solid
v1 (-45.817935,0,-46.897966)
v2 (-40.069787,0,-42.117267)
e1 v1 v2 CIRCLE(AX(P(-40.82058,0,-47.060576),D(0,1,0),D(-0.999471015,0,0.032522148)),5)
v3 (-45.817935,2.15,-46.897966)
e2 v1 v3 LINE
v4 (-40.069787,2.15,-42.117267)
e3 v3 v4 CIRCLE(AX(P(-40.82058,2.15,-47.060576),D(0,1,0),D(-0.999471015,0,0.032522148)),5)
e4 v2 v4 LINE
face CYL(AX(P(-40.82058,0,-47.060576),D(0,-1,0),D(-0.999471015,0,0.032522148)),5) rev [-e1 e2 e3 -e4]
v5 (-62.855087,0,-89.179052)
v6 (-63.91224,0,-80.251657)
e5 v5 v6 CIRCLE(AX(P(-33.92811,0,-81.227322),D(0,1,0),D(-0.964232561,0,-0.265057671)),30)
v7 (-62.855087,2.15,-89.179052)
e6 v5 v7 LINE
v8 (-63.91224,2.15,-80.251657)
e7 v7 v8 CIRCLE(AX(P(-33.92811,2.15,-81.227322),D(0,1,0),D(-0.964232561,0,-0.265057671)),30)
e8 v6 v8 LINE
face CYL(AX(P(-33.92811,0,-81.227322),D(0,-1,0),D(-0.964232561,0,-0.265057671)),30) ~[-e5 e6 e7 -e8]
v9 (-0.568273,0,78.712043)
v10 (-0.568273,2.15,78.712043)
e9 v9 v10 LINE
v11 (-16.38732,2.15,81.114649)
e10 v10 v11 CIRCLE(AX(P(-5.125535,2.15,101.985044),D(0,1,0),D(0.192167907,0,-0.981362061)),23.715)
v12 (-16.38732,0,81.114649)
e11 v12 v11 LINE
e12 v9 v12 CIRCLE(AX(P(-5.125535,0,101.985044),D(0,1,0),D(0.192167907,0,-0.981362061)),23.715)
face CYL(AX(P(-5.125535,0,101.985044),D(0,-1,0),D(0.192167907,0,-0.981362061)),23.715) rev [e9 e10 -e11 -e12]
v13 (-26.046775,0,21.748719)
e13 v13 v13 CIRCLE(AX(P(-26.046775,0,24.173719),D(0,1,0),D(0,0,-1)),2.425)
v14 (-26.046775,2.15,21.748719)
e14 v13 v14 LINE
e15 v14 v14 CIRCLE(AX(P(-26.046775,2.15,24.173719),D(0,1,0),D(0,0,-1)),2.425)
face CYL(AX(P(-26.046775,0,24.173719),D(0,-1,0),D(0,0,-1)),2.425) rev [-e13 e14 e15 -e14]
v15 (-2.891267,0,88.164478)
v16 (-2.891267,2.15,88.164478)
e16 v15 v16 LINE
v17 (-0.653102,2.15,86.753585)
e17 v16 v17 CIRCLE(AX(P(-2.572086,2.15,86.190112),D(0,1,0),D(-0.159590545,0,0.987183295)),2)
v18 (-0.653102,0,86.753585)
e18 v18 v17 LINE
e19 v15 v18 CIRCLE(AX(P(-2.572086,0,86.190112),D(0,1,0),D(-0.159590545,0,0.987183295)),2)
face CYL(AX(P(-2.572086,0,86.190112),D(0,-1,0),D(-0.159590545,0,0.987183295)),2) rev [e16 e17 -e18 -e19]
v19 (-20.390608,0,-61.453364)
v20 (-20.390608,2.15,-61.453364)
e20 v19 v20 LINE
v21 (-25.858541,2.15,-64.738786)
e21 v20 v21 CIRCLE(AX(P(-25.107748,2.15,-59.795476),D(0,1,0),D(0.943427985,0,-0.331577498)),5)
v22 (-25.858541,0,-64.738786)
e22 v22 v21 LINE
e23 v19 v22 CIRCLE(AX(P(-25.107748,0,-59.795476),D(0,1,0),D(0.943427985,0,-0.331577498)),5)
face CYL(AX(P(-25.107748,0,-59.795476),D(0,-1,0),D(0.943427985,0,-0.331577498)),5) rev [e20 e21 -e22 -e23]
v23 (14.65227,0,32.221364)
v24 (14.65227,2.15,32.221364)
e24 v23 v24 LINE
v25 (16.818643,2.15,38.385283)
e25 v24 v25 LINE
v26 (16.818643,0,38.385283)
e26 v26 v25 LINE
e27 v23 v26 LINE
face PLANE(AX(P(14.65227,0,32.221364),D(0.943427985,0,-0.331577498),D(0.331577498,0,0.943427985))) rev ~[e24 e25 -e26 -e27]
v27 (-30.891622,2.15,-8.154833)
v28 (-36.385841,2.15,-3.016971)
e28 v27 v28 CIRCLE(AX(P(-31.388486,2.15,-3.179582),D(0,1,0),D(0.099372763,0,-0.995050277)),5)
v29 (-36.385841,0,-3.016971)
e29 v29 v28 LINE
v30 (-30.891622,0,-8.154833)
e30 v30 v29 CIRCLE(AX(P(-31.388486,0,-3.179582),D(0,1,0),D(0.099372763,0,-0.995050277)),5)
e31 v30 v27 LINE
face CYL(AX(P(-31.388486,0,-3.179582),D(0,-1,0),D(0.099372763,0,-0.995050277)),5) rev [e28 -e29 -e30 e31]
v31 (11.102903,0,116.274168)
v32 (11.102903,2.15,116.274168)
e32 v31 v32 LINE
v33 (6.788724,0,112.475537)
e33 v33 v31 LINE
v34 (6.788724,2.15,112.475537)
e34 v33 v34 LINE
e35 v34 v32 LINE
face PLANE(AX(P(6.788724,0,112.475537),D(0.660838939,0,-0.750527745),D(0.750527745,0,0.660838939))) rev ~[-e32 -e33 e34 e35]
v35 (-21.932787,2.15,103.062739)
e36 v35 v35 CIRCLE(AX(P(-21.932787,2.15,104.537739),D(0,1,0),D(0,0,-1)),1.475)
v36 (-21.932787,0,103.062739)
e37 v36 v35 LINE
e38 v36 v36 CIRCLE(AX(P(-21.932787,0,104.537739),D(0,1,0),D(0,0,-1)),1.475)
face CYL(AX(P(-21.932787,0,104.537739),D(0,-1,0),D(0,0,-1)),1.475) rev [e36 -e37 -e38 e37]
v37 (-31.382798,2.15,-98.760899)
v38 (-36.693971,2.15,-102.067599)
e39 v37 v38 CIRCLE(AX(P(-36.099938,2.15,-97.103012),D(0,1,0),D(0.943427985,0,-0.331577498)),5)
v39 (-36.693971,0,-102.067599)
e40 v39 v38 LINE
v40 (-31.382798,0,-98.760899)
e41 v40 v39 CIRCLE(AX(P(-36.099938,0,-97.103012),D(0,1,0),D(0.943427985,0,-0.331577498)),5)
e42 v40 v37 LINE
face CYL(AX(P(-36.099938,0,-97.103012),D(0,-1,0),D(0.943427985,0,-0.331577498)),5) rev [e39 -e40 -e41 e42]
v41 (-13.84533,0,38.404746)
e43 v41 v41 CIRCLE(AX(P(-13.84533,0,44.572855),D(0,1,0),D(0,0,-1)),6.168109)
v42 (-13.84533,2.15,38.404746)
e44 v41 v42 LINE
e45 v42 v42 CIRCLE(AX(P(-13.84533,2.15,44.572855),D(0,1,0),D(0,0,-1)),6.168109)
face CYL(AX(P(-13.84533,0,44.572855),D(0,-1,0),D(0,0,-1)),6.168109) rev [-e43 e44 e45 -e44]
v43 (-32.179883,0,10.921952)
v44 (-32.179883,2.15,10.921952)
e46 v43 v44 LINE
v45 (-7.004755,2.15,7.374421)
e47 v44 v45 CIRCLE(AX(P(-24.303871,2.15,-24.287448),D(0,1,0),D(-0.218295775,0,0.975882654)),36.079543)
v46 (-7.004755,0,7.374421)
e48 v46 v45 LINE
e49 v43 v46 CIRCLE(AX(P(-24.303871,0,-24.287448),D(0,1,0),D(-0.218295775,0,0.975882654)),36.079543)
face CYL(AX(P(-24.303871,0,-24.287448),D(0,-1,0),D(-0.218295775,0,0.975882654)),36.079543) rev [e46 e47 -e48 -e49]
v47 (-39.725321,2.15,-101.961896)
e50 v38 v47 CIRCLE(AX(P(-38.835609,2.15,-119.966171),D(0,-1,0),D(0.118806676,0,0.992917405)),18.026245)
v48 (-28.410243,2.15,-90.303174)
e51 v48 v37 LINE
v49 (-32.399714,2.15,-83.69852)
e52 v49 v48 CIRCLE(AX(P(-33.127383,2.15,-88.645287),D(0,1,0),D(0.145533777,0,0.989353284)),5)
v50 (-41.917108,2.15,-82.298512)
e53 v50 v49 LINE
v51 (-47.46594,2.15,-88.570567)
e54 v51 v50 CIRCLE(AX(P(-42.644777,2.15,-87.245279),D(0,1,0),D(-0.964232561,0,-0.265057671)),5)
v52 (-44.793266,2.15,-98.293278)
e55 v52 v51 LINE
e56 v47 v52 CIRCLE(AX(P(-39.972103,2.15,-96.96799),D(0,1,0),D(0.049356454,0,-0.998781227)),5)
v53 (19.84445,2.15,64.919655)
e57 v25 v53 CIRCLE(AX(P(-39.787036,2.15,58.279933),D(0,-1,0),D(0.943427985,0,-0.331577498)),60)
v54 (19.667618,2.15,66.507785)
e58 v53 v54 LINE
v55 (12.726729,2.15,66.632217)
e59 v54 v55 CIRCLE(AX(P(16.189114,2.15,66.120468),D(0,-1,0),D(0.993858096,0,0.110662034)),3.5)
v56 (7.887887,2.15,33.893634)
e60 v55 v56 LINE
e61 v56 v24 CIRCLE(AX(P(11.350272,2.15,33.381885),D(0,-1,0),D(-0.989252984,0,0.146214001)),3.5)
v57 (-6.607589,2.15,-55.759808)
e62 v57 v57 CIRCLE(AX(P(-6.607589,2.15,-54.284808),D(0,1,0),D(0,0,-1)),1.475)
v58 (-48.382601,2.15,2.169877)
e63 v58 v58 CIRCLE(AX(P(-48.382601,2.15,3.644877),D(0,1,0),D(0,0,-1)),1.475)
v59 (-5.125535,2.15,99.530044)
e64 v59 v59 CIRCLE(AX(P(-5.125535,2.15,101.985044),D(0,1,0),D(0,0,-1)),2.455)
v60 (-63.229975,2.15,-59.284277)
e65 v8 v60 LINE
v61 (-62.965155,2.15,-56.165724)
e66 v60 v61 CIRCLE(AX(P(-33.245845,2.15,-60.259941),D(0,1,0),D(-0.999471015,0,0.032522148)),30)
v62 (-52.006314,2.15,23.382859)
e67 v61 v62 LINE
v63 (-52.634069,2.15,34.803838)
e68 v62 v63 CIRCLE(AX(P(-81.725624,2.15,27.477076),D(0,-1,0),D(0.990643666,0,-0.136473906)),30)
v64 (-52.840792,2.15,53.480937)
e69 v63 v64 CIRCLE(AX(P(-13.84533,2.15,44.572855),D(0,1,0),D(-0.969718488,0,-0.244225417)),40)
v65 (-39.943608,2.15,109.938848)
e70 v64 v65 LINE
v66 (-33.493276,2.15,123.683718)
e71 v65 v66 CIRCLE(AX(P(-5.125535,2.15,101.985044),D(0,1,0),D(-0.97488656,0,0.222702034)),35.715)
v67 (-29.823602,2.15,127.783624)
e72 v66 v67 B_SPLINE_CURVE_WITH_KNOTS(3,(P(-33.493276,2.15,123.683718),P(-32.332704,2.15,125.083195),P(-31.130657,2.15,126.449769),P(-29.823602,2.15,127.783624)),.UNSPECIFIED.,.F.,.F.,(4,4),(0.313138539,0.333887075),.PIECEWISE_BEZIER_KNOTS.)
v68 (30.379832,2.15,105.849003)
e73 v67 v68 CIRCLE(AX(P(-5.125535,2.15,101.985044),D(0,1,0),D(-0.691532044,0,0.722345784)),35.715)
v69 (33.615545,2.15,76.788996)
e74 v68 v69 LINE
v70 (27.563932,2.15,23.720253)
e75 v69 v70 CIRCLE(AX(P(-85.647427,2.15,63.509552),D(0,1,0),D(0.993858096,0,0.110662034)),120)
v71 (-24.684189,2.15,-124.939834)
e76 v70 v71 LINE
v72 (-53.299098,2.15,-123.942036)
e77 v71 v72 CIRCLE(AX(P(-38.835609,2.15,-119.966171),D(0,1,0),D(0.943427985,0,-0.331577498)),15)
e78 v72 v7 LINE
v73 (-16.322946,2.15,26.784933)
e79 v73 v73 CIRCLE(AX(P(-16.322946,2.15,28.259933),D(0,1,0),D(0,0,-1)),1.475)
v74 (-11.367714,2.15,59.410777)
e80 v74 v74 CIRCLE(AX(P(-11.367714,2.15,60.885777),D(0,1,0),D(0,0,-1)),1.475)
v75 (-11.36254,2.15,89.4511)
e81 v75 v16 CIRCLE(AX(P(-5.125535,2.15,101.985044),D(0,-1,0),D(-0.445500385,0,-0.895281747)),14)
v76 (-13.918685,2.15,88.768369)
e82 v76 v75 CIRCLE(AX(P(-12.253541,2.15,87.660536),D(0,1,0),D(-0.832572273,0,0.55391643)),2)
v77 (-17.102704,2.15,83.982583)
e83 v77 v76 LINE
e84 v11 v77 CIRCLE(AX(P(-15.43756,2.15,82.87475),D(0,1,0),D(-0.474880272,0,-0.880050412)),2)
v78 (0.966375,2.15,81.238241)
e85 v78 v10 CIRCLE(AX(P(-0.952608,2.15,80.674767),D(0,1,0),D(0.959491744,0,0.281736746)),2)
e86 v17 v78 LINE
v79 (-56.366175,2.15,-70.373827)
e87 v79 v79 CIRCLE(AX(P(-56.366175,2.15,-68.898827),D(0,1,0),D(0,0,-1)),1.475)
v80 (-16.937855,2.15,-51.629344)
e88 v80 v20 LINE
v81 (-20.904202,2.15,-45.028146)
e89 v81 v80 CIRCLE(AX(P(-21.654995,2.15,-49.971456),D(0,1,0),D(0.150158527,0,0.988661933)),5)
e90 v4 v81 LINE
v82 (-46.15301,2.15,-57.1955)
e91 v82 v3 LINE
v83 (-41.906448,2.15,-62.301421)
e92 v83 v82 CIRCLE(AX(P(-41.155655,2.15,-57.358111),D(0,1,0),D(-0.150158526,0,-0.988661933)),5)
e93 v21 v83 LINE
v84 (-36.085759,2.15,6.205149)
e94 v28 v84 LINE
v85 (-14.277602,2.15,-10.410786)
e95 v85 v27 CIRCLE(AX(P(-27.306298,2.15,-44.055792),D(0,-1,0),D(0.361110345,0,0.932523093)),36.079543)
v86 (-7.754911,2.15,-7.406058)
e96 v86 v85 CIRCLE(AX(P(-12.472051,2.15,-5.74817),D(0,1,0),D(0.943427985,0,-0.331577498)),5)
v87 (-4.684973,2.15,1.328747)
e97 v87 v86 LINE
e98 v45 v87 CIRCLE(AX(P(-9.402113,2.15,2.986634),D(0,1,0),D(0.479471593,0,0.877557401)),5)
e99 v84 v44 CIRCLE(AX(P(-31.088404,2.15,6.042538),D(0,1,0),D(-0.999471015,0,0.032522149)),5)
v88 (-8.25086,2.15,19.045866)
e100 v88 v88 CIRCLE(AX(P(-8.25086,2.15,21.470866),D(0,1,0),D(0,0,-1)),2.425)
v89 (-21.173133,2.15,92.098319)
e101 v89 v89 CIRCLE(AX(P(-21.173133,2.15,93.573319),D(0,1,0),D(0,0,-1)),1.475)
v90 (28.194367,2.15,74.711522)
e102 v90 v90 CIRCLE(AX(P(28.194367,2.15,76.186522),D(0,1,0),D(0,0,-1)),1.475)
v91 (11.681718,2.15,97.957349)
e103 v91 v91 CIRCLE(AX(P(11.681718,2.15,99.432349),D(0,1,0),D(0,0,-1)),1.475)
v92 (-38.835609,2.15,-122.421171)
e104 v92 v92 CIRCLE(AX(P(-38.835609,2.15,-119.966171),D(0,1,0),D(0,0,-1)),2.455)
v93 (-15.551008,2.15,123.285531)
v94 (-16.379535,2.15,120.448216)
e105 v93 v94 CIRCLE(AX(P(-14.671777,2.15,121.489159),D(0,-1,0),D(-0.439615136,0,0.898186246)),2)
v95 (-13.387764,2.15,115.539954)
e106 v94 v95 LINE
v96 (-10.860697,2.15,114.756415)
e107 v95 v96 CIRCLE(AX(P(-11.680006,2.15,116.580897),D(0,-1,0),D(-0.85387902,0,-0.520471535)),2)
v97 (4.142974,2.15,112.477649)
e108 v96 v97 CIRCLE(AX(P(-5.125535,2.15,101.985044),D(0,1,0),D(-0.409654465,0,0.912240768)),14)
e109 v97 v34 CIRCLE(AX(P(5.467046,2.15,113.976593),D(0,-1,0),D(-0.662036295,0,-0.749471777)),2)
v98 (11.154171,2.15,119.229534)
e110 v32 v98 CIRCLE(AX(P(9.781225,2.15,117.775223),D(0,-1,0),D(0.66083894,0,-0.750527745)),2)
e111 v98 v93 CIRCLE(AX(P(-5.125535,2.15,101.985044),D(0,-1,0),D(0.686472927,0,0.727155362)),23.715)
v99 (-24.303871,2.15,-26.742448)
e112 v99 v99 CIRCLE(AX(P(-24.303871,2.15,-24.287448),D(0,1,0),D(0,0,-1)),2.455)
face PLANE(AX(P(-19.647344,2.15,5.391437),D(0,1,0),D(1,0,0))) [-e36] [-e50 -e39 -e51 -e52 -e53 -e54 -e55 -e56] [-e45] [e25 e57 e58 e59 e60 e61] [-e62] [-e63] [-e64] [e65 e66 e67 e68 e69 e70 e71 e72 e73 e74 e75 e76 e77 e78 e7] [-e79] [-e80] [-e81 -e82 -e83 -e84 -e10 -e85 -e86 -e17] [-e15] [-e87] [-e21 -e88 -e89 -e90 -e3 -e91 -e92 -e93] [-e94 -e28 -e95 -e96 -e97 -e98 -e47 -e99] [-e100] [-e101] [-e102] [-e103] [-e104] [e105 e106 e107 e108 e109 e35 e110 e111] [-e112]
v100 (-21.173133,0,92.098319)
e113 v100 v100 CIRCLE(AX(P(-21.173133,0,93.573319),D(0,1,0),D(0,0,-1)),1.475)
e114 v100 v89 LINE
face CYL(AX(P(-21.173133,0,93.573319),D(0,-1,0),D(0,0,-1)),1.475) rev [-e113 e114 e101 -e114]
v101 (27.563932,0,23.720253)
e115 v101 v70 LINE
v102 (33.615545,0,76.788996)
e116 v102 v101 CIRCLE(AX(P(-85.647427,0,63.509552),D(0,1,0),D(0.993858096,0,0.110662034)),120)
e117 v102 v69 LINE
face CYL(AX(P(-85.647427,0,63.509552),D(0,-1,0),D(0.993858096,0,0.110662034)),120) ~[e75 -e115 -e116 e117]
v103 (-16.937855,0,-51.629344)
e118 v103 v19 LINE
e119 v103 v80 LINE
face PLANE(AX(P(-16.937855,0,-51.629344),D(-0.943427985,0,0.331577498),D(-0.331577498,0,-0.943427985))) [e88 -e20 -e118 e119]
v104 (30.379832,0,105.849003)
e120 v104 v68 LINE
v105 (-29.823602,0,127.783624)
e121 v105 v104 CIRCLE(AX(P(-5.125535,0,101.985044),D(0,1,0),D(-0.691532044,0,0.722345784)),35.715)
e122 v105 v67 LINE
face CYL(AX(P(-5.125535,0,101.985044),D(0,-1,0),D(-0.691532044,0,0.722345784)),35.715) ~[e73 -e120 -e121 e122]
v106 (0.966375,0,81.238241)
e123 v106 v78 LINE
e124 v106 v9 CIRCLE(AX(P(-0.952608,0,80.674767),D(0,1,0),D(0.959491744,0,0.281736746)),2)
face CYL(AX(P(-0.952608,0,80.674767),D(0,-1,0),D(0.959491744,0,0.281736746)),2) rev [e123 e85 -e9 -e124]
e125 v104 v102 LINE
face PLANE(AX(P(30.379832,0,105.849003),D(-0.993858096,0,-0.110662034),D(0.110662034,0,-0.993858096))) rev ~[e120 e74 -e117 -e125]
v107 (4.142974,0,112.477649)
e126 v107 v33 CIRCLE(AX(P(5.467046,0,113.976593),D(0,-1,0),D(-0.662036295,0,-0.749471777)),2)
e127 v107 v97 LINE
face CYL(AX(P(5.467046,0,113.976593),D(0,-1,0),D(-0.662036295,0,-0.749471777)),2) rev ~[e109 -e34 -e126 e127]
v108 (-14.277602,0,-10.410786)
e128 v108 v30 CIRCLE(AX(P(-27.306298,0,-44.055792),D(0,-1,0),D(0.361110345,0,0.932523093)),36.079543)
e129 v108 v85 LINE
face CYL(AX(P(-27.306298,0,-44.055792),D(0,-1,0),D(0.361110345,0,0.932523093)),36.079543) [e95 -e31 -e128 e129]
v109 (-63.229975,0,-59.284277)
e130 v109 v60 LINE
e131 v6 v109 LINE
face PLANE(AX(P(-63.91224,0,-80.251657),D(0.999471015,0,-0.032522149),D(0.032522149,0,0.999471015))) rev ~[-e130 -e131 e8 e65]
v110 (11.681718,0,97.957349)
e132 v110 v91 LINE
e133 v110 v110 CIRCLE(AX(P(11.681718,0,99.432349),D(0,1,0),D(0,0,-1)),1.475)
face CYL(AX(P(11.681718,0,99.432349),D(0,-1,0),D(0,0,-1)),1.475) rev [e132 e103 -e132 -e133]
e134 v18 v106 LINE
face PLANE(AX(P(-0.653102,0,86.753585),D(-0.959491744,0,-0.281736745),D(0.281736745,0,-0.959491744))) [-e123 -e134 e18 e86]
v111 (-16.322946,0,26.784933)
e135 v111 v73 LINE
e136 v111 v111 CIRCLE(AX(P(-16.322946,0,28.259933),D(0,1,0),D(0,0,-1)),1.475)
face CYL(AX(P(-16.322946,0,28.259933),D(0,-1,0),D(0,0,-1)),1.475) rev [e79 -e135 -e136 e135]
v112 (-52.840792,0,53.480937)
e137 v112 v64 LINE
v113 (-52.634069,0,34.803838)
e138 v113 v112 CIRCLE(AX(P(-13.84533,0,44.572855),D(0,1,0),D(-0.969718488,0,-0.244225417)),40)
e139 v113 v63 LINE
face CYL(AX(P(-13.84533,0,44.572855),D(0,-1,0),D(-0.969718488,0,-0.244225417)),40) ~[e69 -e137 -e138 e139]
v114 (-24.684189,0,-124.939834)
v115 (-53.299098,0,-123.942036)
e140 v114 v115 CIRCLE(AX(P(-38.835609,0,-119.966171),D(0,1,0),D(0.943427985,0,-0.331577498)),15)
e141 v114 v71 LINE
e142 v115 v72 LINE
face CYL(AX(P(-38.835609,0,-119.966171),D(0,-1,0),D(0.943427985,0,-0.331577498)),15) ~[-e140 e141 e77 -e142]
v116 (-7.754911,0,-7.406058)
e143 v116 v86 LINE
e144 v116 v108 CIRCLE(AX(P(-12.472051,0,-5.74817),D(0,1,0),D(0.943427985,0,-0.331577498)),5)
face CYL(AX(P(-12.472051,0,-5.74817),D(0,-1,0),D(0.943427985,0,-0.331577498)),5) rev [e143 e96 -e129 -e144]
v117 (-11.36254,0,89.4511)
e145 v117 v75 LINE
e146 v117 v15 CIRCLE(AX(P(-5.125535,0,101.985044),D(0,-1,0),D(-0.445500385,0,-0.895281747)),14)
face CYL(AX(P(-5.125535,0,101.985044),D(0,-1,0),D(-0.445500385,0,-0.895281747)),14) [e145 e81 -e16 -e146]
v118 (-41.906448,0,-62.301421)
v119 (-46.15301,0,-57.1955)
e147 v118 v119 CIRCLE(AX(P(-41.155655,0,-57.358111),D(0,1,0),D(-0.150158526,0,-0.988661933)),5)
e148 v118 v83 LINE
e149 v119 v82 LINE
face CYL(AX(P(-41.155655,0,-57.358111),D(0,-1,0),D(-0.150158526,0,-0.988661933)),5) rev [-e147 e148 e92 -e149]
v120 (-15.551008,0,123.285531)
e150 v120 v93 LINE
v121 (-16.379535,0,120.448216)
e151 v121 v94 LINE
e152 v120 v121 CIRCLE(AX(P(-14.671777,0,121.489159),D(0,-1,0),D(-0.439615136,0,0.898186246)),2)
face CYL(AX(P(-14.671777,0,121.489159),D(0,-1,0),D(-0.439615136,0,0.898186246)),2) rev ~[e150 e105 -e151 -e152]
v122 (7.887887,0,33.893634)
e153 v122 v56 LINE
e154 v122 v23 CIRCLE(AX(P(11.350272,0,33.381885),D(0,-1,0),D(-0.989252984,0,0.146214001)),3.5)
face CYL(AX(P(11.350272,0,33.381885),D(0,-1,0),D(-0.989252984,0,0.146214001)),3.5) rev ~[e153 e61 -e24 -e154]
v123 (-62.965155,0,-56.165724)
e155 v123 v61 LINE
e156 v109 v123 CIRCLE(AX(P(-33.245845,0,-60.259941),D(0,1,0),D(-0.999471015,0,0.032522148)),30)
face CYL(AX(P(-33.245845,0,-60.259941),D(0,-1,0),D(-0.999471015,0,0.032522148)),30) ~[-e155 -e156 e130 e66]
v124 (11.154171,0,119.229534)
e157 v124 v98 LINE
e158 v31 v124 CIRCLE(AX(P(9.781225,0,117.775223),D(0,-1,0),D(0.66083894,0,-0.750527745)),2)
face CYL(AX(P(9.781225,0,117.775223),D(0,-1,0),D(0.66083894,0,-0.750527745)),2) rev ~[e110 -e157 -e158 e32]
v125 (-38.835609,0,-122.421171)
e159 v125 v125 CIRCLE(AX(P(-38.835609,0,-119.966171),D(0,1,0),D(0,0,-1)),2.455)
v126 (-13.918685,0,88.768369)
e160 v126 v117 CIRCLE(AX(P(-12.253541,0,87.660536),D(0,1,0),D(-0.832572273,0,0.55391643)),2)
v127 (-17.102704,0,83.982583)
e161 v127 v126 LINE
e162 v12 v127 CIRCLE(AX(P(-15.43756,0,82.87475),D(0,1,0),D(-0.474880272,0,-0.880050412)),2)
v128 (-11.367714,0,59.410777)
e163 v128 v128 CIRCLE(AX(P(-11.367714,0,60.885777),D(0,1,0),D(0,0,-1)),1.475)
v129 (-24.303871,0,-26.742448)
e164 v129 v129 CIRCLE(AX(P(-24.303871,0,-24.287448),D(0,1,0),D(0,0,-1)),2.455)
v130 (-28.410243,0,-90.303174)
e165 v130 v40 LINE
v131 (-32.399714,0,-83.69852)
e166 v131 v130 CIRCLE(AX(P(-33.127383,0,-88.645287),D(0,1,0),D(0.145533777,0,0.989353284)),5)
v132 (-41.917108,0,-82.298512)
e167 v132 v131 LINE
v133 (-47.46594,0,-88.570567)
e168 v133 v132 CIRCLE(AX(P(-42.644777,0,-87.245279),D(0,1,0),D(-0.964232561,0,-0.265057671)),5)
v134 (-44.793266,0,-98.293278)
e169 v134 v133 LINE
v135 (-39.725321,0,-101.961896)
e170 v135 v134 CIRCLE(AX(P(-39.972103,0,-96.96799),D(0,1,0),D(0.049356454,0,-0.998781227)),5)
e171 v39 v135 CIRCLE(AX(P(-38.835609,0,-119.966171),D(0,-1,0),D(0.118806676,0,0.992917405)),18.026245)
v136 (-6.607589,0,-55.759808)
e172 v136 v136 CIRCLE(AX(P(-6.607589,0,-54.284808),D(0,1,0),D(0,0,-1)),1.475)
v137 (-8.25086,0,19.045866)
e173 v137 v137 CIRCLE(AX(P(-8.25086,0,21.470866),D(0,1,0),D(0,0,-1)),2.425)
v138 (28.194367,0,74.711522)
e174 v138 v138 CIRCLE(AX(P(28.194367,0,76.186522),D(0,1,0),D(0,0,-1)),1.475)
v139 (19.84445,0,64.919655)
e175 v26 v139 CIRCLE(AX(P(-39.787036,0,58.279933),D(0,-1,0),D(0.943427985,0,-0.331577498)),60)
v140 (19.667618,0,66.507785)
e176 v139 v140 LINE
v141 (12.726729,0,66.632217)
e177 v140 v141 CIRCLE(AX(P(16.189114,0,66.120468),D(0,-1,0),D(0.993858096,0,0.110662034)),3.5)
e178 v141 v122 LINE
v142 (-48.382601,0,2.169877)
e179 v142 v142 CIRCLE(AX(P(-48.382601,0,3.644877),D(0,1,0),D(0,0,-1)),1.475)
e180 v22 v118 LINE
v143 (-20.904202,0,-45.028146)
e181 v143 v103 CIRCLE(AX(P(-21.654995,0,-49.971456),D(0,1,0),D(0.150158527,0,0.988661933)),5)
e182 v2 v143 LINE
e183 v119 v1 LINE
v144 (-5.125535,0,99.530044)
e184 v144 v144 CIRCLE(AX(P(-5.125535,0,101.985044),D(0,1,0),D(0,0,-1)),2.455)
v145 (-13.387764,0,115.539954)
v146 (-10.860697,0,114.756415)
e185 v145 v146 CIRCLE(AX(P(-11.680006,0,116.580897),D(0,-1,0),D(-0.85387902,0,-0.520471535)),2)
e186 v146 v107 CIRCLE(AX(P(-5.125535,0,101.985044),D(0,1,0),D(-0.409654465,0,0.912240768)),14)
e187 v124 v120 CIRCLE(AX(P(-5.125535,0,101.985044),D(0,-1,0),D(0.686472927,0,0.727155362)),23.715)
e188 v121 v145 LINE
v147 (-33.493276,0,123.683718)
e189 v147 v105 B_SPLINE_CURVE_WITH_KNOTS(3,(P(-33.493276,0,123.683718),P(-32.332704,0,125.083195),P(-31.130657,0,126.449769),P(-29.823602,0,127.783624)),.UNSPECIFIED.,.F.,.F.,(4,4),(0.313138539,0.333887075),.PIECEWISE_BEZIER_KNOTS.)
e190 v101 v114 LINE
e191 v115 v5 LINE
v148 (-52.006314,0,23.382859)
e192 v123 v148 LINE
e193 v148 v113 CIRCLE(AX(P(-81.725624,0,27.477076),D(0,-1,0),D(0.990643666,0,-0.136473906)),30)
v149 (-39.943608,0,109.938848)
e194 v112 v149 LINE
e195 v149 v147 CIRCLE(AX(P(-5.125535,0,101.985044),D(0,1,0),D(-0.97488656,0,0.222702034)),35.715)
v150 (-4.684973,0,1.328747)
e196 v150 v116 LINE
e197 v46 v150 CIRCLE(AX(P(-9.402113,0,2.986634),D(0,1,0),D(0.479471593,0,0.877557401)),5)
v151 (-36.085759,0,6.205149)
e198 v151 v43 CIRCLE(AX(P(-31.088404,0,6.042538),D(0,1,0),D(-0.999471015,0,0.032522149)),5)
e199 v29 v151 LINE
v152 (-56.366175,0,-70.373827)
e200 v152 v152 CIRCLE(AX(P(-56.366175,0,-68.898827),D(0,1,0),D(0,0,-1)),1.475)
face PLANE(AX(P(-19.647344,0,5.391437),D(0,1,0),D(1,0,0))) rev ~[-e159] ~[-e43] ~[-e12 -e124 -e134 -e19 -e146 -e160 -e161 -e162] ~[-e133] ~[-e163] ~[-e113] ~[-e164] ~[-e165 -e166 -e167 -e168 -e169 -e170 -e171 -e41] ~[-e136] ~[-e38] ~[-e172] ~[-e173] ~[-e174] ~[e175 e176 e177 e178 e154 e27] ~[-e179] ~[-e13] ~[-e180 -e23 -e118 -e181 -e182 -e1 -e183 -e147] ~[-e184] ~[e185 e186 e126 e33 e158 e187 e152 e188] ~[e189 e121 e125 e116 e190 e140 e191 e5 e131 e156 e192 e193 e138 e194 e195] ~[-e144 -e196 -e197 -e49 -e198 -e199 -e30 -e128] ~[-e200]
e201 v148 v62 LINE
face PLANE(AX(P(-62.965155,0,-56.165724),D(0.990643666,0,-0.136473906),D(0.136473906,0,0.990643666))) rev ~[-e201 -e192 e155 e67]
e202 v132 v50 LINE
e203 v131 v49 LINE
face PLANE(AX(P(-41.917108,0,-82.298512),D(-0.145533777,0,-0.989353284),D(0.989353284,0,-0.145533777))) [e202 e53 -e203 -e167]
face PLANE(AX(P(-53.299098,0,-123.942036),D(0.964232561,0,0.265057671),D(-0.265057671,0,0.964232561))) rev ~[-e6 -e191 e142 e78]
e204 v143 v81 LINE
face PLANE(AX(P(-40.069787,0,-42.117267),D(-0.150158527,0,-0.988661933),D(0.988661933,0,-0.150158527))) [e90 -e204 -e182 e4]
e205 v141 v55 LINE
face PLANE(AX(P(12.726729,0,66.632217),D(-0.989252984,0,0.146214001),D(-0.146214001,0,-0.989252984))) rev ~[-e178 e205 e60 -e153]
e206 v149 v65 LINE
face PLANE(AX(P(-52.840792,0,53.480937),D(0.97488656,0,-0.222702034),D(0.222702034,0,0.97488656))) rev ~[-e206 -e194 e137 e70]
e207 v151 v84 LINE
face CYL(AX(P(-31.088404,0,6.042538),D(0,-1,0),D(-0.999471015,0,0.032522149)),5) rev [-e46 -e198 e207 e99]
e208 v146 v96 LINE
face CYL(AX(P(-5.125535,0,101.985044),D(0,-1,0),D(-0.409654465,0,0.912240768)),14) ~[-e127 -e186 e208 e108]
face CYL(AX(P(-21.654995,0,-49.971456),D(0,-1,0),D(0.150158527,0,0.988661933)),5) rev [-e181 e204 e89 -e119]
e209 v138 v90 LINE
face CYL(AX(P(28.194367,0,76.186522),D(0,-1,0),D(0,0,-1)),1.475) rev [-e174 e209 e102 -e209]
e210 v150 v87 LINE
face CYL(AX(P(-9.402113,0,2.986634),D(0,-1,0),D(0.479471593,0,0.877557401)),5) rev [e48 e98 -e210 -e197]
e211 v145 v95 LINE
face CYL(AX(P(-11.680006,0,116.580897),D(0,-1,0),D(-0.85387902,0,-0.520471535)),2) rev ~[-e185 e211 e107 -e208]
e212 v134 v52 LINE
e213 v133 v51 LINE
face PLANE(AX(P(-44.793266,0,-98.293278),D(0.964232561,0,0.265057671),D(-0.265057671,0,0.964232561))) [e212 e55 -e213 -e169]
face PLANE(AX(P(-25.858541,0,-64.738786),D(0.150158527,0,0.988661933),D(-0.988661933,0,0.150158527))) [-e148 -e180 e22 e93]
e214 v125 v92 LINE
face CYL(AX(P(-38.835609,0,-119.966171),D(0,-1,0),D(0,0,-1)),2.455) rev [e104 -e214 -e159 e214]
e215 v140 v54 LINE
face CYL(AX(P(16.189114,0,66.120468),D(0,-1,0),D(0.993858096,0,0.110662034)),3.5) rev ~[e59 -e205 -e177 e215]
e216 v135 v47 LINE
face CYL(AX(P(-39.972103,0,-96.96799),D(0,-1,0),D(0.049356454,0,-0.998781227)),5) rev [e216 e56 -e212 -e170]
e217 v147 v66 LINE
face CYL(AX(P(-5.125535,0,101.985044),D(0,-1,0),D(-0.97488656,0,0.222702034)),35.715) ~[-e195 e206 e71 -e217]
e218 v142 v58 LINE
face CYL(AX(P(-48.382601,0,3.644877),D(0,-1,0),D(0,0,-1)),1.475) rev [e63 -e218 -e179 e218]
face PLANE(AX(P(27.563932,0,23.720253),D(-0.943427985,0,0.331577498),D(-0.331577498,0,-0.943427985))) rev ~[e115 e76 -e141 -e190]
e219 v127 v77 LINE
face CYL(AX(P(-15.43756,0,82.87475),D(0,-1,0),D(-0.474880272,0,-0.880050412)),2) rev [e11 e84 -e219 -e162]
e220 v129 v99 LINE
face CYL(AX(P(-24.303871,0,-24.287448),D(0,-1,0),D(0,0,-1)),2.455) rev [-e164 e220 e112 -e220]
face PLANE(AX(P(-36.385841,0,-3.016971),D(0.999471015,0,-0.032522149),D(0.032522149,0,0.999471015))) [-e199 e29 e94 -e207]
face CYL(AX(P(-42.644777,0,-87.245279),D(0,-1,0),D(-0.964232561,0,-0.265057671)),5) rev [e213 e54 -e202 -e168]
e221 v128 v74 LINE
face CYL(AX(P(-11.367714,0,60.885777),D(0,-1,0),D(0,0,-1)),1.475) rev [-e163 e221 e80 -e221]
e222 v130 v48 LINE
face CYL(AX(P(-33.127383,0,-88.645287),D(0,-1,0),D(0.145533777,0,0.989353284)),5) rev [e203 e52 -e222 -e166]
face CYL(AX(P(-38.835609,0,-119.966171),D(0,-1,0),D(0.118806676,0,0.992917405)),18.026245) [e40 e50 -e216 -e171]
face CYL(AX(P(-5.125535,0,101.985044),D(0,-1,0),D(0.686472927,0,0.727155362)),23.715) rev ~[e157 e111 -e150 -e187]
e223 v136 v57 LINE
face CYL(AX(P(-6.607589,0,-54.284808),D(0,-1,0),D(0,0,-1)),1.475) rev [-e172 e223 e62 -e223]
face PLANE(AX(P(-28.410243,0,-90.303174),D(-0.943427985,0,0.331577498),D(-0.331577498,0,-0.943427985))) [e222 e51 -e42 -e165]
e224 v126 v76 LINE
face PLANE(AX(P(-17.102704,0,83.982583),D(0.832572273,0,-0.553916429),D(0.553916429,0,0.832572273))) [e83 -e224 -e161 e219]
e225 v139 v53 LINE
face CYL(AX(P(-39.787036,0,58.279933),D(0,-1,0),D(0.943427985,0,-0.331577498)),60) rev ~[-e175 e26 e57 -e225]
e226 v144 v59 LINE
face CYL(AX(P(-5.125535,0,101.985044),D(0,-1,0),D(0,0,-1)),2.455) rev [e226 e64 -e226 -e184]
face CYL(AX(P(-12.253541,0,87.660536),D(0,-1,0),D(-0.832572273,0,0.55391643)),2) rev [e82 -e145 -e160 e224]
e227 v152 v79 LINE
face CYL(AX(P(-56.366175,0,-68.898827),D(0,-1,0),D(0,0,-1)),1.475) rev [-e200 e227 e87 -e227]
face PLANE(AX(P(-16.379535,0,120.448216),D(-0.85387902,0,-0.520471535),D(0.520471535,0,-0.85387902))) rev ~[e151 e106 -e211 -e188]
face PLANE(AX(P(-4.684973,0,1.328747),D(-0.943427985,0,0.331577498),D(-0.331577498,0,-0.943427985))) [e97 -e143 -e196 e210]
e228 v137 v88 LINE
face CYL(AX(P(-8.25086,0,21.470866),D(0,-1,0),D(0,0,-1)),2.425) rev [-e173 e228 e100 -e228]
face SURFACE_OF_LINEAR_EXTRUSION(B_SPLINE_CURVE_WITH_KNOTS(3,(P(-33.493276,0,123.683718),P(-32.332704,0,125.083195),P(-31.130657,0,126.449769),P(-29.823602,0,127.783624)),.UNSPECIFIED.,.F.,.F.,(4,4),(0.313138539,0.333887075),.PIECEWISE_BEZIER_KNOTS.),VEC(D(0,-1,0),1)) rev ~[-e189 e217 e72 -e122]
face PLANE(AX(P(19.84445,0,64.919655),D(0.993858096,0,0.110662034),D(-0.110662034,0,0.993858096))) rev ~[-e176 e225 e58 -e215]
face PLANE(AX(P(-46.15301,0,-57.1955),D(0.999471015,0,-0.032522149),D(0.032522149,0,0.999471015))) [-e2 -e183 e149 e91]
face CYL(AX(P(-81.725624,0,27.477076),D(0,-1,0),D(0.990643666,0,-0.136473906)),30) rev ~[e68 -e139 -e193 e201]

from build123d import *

# Parameters (mm, degrees)
SKETCH1_R           = 1.475
SKETCH1_R_2         = 2.455
SKETCH1_R_3         = 6.168108907
SKETCH1_R_4         = 2.425
BOSS_EXTRUDE1_DEPTH = 2.15


with BuildPart() as part:
    # Sketch1 → Boss-Extrude1 (new body)
    with BuildSketch(Plane(origin=(0, 0, 0), x_dir=(1, 0, 0), z_dir=(0, 1, 0))):
        with BuildLine():
            Line((-52.840792328, -53.480936505), (-39.943608053, -109.938847508))
            ThreePointArc((-39.943608053, -109.938847508), (-37.457286515, -117.158015126), (-33.49327647, -123.683718173))
            add(Edge.make_bspline(
                [(-33.49327647, -123.683718173), (-32.332703554, -125.083194688), (-31.130656762, -126.449768735), (-29.823601535, -127.783624049)],
                knots=[0.313138539, 0.313138539, 0.313138539, 0.313138539, 0.333887075, 0.333887075, 0.333887075, 0.333887075], degree=3))
            ThreePointArc((-29.823601535, -127.783624049), (7.100721182, -135.542158296), (30.379831892, -105.849003085))
            Line((30.379831892, -105.849003085), (33.615544776, -76.788996458))
            ThreePointArc((33.615544776, -76.788996458), (33.579883022, -49.913647939), (27.563931512, -23.720252642))
            Line((27.563931512, -23.720252642), (-24.684189405, 124.939833717))
            ThreePointArc((-24.684189405, 124.939833717), (-39.358339148, 134.957060264), (-53.29909759, 123.942036322))
            Line((-53.29909759, 123.942036322), (-62.855086574, 89.179051807))
            ThreePointArc((-62.855086574, 89.179051807), (-63.719958197, 84.755177464), (-63.912240207, 80.251657202))
            Line((-63.912240207, 80.251657202), (-63.229975042, 59.284277029))
            ThreePointArc((-63.229975042, 59.284277029), (-63.13826073, 57.721544859), (-62.965154571, 56.165724302))
            Line((-62.965154571, 56.165724302), (-52.006314121, -23.382858795))
            ThreePointArc((-52.006314121, -23.382858795), (-51.770839114, -29.123543867), (-52.634069461, -34.803838485))
            ThreePointArc((-52.634069461, -34.803838485), (-53.842880044, -44.130152103), (-52.840792328, -53.480936505))
        make_face()
        with Locations(Location((-21.173132912, -93.573319355, 0), (0, 0, 90))):
            Circle(SKETCH1_R, mode=Mode.SUBTRACT)
        with Locations(Location((-21.93278743, -104.537739321, 0), (0, 0, 90))):
            Circle(SKETCH1_R, mode=Mode.SUBTRACT)
        with Locations(Location((-5.125534576, -101.985044369, 0), (0, 0, 90))):
            Circle(SKETCH1_R_2, mode=Mode.SUBTRACT)
        with Locations(Location((11.681718278, -99.432349418, 0), (0, 0, 90))):
            Circle(SKETCH1_R, mode=Mode.SUBTRACT)
        with Locations(Location((28.194366713, -76.18652158, 0), (0, 0, 90))):
            Circle(SKETCH1_R, mode=Mode.SUBTRACT)
        with Locations(Location((-11.367714255, -60.885777039, 0), (0, 0, 90))):
            Circle(SKETCH1_R, mode=Mode.SUBTRACT)
        with Locations(Location((-13.845329944, -44.572855151, 0), (0, 0, 90))):
            Circle(SKETCH1_R_3, mode=Mode.SUBTRACT)
        with Locations(Location((-8.250860135, -21.470865896, 0), (0, 0, 90))):
            Circle(SKETCH1_R_4, mode=Mode.SUBTRACT)
        with Locations(Location((-16.322945632, -28.259933264, 0), (0, 0, 90))):
            Circle(SKETCH1_R, mode=Mode.SUBTRACT)
        with Locations(Location((-26.046774921, -24.173719374, 0), (0, 0, 90))):
            Circle(SKETCH1_R_4, mode=Mode.SUBTRACT)
        with Locations(Location((-56.366174752, 68.898827029, 0), (0, 0, 90))):
            Circle(SKETCH1_R, mode=Mode.SUBTRACT)
        with Locations(Location((-6.607589019, 54.284808215, 0), (0, 0, 90))):
            Circle(SKETCH1_R, mode=Mode.SUBTRACT)
        with Locations(Location((-24.303871319, 24.287448452, 0), (0, 0, 90))):
            Circle(SKETCH1_R_2, mode=Mode.SUBTRACT)
        with Locations(Location((-48.382600793, -3.644876674, 0), (0, 0, 90))):
            Circle(SKETCH1_R, mode=Mode.SUBTRACT)
        with Locations(Location((-38.835609181, 119.966171251, 0), (0, 0, 90))):
            Circle(SKETCH1_R_2, mode=Mode.SUBTRACT)
        with BuildLine():
            Line((-41.91710805, 82.298512317), (-32.399713849, 83.698520129))
            ThreePointArc((-32.399713849, 83.698520129), (-28.847563923, 86.060107453), (-28.410242809, 90.303174036))
            Line((-28.410242809, 90.303174036), (-31.382797644, 98.76089942))
            ThreePointArc((-31.382797644, 98.76089942), (-33.457293561, 101.347588782), (-36.693970949, 102.067598958))
            ThreePointArc((-36.693970949, 102.067598958), (-38.207418623, 101.950875498), (-39.725320718, 101.961896263))
            ThreePointArc((-39.725320718, 101.961896263), (-42.903984368, 101.018184144), (-44.793265793, 98.293278483))
            Line((-44.793265793, 98.293278483), (-47.465939738, 88.570567092))
            ThreePointArc((-47.465939738, 88.570567092), (-46.389618839, 83.932250043), (-41.91710805, 82.298512317))
        make_face(mode=Mode.SUBTRACT)
        with BuildLine():
            Line((-16.937854779, 51.629343597), (-20.390607974, 61.453363659))
            ThreePointArc((-20.390607974, 61.453363659), (-22.532582385, 64.081327612), (-25.858540532, 64.738785834))
            Line((-25.858540532, 64.738785834), (-41.906447635, 62.301420739))
            ThreePointArc((-41.906447635, 62.301420739), (-44.999859253, 60.55531199), (-46.153010078, 57.195500332))
            Line((-46.153010078, 57.195500332), (-45.817934871, 46.897965596))
            ThreePointArc((-45.817934871, 46.897965596), (-44.01778071, 43.216372089), (-40.069787164, 42.117266677))
            Line((-40.069787164, 42.117266677), (-20.904202072, 45.028146446))
            ThreePointArc((-20.904202072, 45.028146446), (-17.369143264, 47.396290594), (-16.937854779, 51.629343597))
        make_face(mode=Mode.SUBTRACT)
        with BuildLine():
            Line((-4.684973442, -1.328746966), (-7.754910594, 7.406057543))
            ThreePointArc((-7.754910594, 7.406057543), (-10.380057687, 10.289487703), (-14.277602246, 10.410785518))
            ThreePointArc((-14.277602246, 10.410785518), (-22.451748997, 8.304334218), (-30.891622317, 8.154833286))
            ThreePointArc((-30.891622317, 8.154833286), (-34.803601388, 6.83156599), (-36.385841207, 3.016971156))
            Line((-36.385841207, 3.016971156), (-36.0857593, -6.205149132))
            ThreePointArc((-36.0857593, -6.205149132), (-34.939447101, -9.23149884), (-32.179883099, -10.921951659))
            ThreePointArc((-32.179883099, -10.921951659), (-19.269492954, -11.43913062), (-7.004755403, -7.374421459))
            ThreePointArc((-7.004755403, -7.374421459), (-4.733969724, -4.777844919), (-4.684973442, -1.328746966))
        make_face(mode=Mode.SUBTRACT)
        with BuildLine():
            Line((19.844449525, -64.919654726), (19.667617674, -66.50778536))
            ThreePointArc((19.667617674, -66.50778536), (16.251850056, -69.619905943), (12.726728897, -66.632217245))
            Line((12.726728897, -66.632217245), (7.887886505, -33.893633842))
            ThreePointArc((7.887886505, -33.893633842), (10.510299936, -29.984172811), (14.652269896, -32.221363596))
            Line((14.652269896, -32.221363596), (16.818642893, -38.385282818))
            ThreePointArc((16.818642893, -38.385282818), (19.826618648, -51.481980466), (19.844449525, -64.919654726))
        make_face(mode=Mode.SUBTRACT)
        with BuildLine():
            Line((-0.653102394, -86.753585136), (0.966375004, -81.238240696))
            ThreePointArc((0.966375004, -81.238240696), (0.756700894, -79.636373516), (-0.56827267, -78.712043082))
            ThreePointArc((-0.56827267, -78.712043082), (-8.686544033, -78.538926638), (-16.387320245, -81.114648864))
            ThreePointArc((-16.387320245, -81.114648864), (-17.378099073, -82.390697064), (-17.102704245, -83.982582545))
            Line((-17.102704245, -83.982582545), (-13.91868529, -88.768369276))
            ThreePointArc((-13.91868529, -88.768369276), (-12.769636594, -89.592800652), (-11.362539974, -89.451099911))
            ThreePointArc((-11.362539974, -89.451099911), (-7.227753948, -88.143777313), (-2.891266968, -88.164478235))
            ThreePointArc((-2.891266968, -88.164478235), (-1.505550947, -87.882005033), (-0.653102394, -86.753585136))
        make_face(mode=Mode.SUBTRACT)
        with BuildLine():
            Line((6.78872402, -112.475537308), (11.102902912, -116.274167565))
            ThreePointArc((11.102902912, -116.274167565), (11.780924168, -117.740533437), (11.154170887, -119.22953378))
            ThreePointArc((11.154170887, -119.22953378), (-1.564525119, -125.4311621), (-15.551007519, -123.285531193))
            ThreePointArc((-15.551007519, -123.285531193), (-16.591599383, -122.049768162), (-16.379535287, -120.44821563))
            Line((-16.379535287, -120.44821563), (-13.387764062, -115.539953588))
            ThreePointArc((-13.387764062, -115.539953588), (-12.272305428, -114.670613587), (-10.860697091, -114.756415123))
            ThreePointArc((-10.860697091, -114.756415123), (-3.023315204, -115.826311425), (4.142973552, -112.477649245))
            ThreePointArc((4.142973552, -112.477649245), (5.465449668, -111.976593436), (6.78872402, -112.475537308))
        make_face(mode=Mode.SUBTRACT)
    extrude(amount=BOSS_EXTRUDE1_DEPTH)


solid = part.part
